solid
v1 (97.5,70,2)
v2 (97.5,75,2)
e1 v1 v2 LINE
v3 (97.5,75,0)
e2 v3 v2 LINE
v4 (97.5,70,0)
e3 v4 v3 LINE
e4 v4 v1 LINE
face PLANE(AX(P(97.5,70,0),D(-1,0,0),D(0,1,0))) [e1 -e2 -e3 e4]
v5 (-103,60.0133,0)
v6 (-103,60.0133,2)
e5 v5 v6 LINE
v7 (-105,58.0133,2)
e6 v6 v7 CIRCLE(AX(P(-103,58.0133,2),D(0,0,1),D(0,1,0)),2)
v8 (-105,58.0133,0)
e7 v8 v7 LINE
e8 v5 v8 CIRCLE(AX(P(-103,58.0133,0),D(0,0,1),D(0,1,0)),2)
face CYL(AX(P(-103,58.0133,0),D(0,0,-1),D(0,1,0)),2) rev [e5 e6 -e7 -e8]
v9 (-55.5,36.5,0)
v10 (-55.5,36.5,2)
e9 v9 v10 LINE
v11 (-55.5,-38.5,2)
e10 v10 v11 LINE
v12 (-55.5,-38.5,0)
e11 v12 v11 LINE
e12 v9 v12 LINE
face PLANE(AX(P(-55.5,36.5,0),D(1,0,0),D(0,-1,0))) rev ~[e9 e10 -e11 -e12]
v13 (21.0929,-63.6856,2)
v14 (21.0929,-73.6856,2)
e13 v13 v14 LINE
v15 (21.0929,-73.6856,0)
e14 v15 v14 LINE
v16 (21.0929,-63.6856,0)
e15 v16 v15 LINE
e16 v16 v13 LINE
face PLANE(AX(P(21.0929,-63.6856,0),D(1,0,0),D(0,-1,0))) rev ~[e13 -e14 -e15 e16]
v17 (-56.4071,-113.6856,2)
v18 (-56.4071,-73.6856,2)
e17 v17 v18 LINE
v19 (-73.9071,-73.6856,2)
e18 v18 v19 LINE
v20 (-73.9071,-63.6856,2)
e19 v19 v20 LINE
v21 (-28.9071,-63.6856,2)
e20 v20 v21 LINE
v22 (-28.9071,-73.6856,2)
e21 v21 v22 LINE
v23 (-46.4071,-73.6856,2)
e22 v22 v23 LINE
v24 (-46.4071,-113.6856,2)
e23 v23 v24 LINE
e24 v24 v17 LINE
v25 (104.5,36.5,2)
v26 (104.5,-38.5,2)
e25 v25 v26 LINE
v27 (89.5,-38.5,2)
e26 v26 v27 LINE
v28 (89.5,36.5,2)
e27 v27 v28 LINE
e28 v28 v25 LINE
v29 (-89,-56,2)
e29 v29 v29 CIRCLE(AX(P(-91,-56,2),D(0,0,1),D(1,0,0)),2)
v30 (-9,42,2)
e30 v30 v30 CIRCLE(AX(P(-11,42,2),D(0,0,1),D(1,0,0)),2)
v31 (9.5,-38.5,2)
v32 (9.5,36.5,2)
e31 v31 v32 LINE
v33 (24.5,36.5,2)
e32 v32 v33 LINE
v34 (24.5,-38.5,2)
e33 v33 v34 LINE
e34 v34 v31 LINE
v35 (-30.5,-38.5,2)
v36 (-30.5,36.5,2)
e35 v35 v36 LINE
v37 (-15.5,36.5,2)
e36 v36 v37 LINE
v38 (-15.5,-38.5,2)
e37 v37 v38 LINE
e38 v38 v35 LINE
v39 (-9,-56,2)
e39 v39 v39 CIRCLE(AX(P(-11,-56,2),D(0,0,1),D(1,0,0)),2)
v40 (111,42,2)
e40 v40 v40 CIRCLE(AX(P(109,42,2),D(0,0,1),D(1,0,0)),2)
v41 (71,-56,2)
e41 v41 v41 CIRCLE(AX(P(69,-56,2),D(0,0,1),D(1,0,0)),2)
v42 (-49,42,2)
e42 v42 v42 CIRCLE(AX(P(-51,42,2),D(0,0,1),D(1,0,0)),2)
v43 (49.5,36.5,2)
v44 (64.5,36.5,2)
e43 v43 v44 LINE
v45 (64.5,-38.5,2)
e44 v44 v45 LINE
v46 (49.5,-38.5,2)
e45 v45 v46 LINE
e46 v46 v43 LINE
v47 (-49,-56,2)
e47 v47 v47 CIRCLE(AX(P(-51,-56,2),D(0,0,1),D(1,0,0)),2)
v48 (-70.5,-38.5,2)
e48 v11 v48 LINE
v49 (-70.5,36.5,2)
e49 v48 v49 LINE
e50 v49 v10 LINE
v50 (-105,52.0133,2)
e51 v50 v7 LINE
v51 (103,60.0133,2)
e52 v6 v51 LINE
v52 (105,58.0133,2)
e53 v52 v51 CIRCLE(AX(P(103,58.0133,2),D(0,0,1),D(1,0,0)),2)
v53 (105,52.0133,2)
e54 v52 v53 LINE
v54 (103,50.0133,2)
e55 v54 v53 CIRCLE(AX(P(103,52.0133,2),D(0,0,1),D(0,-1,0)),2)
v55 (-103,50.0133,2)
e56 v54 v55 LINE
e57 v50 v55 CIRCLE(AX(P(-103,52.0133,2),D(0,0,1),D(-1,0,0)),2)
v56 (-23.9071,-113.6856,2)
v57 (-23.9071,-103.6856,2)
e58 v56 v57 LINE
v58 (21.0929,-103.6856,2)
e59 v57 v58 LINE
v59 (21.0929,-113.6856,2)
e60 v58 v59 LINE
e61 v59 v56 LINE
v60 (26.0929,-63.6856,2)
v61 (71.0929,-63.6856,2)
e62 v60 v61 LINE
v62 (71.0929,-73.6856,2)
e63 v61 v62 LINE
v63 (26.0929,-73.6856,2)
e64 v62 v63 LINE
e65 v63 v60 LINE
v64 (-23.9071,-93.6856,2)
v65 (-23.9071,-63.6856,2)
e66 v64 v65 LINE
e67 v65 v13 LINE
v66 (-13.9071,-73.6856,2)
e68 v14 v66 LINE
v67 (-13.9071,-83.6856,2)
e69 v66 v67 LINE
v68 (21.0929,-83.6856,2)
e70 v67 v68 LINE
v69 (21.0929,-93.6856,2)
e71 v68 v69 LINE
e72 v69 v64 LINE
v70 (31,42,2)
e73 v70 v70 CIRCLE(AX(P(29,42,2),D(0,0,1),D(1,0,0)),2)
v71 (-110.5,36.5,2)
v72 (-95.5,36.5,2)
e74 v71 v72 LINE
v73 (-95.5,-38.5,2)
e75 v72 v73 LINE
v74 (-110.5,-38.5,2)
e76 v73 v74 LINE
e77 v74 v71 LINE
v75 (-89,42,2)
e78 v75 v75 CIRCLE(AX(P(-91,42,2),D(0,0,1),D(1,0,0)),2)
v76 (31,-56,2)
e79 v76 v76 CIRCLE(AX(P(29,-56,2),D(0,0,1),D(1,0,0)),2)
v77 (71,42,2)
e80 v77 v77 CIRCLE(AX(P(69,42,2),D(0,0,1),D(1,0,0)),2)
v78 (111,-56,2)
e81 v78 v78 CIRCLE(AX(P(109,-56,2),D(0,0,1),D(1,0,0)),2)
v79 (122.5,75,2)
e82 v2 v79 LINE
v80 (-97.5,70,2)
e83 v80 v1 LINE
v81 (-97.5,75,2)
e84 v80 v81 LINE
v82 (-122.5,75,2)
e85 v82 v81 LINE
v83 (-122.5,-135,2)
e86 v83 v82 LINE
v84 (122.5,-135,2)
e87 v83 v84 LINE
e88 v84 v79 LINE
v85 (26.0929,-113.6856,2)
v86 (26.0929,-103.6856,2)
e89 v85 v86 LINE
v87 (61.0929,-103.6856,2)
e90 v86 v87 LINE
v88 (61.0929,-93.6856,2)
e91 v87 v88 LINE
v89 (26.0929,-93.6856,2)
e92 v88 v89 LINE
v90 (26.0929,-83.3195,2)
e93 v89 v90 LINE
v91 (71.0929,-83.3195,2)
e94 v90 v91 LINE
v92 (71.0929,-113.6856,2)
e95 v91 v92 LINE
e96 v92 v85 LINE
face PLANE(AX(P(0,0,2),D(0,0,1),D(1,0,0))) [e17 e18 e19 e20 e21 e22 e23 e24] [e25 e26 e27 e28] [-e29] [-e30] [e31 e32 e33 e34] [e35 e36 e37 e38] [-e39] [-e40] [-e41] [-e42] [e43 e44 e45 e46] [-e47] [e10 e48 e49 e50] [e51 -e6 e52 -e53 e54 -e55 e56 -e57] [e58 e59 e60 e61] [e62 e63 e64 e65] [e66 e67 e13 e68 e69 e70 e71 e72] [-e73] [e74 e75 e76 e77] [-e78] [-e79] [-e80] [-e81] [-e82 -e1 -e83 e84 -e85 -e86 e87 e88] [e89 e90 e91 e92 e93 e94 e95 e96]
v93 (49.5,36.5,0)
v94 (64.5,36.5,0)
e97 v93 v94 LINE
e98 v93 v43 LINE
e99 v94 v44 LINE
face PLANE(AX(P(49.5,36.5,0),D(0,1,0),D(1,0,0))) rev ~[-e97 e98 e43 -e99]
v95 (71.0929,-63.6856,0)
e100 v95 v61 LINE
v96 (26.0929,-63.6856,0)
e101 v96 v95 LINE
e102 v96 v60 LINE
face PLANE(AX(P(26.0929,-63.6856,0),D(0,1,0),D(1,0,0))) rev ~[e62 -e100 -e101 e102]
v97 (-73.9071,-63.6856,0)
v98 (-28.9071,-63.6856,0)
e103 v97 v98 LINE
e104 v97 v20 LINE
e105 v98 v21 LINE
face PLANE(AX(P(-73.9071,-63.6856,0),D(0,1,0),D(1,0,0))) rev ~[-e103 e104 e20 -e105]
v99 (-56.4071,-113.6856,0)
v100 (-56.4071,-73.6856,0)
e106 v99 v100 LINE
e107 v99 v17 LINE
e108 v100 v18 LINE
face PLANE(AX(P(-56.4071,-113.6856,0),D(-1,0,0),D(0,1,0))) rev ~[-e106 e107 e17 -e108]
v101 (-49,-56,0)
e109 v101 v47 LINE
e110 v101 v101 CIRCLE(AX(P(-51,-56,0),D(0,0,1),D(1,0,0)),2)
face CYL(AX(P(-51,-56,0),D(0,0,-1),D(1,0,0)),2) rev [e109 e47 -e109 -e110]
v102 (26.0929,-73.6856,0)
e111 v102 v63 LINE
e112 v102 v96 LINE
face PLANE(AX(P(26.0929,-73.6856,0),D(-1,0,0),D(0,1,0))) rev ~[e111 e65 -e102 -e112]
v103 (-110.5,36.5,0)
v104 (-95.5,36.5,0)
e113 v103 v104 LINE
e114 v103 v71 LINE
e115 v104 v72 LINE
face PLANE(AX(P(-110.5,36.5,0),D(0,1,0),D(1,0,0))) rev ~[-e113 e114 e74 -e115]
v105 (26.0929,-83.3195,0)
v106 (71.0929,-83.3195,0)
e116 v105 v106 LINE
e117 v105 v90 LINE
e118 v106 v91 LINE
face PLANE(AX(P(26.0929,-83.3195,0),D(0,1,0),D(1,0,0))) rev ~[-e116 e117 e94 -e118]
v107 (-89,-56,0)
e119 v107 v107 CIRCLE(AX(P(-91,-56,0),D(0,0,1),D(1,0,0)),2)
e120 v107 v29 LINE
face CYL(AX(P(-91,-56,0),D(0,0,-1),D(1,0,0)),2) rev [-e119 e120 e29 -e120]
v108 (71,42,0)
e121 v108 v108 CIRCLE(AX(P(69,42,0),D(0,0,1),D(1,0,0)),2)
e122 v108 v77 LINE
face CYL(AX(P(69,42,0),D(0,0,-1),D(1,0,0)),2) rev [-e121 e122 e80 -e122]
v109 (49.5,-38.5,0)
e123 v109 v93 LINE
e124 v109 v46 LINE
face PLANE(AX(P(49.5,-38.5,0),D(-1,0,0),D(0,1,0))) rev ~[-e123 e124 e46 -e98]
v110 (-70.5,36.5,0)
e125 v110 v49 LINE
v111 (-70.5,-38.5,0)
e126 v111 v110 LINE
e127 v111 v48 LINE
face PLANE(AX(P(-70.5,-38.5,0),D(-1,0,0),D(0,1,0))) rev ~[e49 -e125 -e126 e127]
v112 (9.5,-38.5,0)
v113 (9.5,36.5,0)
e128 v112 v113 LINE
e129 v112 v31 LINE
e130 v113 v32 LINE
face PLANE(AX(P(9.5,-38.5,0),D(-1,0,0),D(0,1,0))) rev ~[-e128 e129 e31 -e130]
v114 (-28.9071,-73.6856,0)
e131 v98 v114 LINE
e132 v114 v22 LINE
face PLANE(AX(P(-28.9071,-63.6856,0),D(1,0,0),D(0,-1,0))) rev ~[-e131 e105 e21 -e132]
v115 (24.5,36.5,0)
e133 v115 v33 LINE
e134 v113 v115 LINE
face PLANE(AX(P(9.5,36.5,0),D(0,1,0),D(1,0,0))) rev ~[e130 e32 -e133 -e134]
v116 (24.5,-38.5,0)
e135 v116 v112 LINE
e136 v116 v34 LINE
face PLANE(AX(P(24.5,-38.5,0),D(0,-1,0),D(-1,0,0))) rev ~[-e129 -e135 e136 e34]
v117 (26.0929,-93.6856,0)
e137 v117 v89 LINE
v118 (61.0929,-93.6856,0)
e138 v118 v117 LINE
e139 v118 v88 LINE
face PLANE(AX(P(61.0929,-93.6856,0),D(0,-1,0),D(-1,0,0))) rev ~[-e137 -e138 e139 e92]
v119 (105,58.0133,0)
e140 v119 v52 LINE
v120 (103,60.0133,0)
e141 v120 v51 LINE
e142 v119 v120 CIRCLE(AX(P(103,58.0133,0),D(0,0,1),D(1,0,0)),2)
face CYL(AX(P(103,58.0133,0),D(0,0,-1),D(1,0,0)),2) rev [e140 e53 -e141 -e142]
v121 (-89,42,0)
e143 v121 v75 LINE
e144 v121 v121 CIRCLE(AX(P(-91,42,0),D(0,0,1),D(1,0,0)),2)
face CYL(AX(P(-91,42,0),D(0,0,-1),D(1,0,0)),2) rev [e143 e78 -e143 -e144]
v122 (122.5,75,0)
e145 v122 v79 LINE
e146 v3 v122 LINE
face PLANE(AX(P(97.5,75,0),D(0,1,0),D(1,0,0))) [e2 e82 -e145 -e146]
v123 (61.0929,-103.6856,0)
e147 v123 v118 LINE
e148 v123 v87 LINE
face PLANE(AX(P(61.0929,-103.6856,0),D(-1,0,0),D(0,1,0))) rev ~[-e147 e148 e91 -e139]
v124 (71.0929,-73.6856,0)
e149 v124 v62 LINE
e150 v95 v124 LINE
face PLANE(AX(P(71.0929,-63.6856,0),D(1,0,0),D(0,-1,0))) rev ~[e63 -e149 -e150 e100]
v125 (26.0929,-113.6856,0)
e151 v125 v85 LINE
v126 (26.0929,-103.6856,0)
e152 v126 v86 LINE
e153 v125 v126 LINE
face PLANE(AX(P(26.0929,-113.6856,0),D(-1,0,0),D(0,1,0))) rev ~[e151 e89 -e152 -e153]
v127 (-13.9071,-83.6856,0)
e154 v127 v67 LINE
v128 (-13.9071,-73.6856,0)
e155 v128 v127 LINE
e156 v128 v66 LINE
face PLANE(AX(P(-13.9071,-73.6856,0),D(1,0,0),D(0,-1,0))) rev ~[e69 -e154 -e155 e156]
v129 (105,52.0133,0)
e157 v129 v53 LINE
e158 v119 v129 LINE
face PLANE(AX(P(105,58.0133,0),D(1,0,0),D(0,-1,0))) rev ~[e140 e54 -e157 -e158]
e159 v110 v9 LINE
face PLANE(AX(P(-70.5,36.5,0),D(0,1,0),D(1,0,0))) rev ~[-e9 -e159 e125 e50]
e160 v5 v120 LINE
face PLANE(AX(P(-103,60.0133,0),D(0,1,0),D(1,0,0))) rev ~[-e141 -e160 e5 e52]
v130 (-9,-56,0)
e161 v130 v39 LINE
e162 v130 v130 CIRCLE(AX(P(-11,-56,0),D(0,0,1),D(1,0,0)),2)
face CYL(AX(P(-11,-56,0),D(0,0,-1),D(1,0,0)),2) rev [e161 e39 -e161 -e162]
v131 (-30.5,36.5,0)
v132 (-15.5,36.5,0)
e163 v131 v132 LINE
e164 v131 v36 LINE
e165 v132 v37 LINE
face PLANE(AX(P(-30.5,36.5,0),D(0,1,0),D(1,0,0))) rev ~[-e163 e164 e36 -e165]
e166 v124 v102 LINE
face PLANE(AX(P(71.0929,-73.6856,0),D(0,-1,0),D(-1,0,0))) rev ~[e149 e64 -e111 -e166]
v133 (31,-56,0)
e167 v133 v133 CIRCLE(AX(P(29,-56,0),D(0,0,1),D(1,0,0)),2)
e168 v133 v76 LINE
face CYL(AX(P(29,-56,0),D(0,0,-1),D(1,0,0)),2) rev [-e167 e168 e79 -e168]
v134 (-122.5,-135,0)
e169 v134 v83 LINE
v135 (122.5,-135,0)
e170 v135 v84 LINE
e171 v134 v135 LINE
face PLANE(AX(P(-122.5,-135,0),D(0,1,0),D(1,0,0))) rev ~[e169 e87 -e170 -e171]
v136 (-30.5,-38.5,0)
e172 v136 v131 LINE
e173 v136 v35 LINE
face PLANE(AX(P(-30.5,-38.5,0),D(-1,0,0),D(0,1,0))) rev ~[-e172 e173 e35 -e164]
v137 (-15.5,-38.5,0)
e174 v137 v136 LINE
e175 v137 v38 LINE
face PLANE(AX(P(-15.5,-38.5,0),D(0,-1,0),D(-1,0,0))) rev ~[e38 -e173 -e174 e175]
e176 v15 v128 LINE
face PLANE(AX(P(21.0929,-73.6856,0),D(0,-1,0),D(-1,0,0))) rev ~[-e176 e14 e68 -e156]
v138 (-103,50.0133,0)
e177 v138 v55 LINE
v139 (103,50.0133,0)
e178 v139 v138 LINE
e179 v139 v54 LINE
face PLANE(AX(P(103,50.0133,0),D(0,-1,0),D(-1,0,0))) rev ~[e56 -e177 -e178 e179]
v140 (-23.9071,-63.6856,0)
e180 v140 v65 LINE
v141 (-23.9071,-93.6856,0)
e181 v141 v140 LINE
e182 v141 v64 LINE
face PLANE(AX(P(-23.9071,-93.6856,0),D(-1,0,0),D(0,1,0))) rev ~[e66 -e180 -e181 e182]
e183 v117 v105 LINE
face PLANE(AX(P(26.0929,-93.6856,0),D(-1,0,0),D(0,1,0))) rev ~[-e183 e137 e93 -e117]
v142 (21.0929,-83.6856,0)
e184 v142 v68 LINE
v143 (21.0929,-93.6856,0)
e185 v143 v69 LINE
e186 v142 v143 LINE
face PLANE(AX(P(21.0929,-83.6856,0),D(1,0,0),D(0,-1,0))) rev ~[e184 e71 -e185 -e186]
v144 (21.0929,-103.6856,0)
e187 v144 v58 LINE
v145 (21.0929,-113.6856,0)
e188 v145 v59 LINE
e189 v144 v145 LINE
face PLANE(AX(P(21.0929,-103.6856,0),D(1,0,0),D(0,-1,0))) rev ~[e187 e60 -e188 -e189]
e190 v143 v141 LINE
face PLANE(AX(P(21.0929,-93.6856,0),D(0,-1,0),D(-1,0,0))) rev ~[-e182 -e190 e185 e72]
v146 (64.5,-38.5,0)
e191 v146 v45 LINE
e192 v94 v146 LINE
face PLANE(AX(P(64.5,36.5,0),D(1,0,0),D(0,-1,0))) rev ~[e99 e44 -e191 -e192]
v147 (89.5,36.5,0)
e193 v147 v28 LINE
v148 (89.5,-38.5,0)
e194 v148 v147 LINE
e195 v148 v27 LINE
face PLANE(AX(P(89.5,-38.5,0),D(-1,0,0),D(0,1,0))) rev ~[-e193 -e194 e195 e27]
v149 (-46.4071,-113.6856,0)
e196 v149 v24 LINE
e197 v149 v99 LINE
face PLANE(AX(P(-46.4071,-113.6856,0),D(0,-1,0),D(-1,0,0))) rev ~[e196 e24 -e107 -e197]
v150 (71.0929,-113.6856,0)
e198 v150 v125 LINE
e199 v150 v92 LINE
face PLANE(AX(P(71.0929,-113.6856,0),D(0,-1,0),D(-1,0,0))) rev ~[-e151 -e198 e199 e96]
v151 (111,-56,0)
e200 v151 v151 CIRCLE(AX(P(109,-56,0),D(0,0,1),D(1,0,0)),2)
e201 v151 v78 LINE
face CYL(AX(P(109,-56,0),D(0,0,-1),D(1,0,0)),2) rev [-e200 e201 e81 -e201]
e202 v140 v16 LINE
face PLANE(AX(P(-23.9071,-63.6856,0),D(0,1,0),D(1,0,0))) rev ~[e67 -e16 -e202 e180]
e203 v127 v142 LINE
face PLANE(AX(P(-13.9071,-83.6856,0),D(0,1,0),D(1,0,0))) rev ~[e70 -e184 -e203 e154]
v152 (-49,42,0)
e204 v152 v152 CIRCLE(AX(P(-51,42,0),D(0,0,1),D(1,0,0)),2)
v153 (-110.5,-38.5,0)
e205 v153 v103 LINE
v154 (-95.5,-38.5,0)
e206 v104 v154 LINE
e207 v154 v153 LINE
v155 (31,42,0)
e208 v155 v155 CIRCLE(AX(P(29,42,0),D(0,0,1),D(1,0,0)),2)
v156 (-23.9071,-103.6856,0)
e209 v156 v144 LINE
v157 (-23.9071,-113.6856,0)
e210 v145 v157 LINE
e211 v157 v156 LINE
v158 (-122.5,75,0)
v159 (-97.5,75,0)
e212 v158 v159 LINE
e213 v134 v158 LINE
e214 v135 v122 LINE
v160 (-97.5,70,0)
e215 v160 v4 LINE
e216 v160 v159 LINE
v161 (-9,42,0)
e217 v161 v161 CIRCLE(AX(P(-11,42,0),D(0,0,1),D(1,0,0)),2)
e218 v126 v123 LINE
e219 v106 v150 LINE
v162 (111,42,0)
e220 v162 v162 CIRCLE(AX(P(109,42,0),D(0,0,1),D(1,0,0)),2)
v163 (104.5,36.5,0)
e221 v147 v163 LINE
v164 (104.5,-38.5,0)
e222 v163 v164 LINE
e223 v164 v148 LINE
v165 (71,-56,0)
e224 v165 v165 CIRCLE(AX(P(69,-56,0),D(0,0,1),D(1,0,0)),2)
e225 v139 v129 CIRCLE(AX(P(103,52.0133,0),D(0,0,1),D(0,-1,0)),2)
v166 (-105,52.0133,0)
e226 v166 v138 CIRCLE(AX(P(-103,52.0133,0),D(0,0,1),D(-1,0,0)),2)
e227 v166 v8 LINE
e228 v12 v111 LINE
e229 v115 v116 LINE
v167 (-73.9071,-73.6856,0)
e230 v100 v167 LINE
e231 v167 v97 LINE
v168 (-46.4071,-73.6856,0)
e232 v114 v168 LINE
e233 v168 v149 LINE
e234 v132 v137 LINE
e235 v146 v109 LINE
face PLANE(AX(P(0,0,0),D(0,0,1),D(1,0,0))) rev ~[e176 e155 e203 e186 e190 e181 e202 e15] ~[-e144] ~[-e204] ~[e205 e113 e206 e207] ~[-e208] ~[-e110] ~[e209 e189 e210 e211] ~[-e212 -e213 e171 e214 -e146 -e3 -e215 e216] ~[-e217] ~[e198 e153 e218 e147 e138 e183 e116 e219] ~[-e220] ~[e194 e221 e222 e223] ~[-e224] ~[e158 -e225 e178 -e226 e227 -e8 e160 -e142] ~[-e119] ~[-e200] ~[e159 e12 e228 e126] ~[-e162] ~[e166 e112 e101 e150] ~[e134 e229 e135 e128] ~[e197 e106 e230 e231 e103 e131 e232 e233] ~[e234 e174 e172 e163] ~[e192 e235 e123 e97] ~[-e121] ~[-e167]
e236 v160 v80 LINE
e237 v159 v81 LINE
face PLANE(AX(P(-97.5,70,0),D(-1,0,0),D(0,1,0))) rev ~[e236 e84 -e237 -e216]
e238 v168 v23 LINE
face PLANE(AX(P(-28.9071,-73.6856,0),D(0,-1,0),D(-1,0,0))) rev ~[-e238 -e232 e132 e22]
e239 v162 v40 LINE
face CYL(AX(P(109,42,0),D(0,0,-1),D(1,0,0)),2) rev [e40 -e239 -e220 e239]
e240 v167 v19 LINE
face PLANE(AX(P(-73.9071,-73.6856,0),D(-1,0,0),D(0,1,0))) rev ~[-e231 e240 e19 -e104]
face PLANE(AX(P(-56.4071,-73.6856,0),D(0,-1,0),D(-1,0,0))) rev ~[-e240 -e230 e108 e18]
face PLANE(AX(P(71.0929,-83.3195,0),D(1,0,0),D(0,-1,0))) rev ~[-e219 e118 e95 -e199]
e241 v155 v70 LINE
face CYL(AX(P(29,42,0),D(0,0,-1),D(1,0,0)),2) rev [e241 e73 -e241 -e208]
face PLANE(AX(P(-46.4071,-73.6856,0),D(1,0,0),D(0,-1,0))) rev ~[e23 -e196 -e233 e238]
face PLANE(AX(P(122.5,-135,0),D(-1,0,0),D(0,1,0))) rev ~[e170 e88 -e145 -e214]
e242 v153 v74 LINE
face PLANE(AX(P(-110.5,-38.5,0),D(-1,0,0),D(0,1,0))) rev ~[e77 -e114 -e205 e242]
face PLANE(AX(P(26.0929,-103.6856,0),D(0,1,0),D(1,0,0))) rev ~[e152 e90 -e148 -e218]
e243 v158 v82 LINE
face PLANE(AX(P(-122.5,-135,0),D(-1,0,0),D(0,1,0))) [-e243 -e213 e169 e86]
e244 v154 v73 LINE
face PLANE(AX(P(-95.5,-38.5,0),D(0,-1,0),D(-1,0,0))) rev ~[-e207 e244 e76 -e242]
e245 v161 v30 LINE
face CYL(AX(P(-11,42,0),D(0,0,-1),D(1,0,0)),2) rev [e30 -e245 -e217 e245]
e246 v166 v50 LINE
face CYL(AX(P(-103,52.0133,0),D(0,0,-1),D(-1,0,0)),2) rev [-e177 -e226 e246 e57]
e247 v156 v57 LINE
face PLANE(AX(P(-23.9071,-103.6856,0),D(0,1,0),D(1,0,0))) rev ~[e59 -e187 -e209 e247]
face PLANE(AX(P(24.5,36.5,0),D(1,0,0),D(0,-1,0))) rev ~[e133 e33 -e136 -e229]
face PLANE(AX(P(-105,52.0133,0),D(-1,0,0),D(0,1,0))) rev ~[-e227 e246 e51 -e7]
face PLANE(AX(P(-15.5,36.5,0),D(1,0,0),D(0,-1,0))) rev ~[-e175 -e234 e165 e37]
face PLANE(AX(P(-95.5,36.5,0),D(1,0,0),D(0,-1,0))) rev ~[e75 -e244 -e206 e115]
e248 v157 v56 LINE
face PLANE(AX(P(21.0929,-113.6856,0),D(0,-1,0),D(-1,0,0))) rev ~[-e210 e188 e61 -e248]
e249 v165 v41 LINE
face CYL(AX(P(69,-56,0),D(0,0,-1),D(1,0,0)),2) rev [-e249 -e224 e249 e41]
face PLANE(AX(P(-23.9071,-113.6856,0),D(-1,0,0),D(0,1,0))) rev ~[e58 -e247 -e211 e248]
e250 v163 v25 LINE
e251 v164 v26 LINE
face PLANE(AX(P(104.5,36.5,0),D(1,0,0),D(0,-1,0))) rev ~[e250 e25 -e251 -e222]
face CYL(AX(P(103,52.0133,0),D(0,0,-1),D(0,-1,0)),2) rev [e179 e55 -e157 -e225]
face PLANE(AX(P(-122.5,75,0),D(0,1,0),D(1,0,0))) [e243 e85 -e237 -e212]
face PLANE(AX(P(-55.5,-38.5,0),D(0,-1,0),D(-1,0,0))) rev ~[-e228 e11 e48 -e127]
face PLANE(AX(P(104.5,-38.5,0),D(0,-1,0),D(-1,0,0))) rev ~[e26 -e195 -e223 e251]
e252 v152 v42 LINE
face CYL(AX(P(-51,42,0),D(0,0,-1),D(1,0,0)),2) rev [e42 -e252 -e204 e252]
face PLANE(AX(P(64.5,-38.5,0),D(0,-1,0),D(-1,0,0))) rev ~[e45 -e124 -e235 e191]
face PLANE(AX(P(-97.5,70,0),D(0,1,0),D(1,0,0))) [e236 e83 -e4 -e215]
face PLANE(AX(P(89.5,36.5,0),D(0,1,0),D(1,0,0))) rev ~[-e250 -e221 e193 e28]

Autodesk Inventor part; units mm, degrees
ref_plane "YZ Plane" through (0, 0, 0) normal (1, 0, 0) x (0, 1, 0)
ref_plane "XZ Plane" through (0, 0, 0) normal (0, 1, 0) x (-1, 0, 0)
ref_plane "XY Plane" through (0, 0, 0) normal (0, 0, 1) x (1, 0, 0)
ref_plane "Work Plane1" through (0, 0, 0) normal (0, 0, 1) x (1, 0, 0)
sketch "Sketch1" plane through (0, 0, 0) normal (0, 0, 1) x (1, 0, 0)
  line L0 (21.0929, -113.6856) -> (-23.9071, -113.6856)
  line L1 (-23.9071, -113.6856) -> (-23.9071, -103.6856)
  line L2 (-23.9071, -103.6856) -> (21.0929, -103.6856)
  line L3 (21.0929, -103.6856) -> (21.0929, -113.6856)
  line L4 (26.0929, -103.6856) -> (61.0929, -103.6856)
  line L5 (61.0929, -103.6856) -> (61.0929, -93.6856)
  line L6 (61.0929, -93.6856) -> (26.0929, -93.6856)
  line L7 (26.0929, -93.6856) -> (26.0929, -83.3195)
  line L8 (26.0929, -83.3195) -> (71.0929, -83.3195)
  line L9 (71.0929, -83.3195) -> (71.0929, -113.6856)
  line L10 (71.0929, -113.6856) -> (26.0929, -113.6856)
  line L11 (26.0929, -113.6856) -> (26.0929, -103.6856)
  line L12 (-13.9071, -83.6856) -> (21.0929, -83.6856)
  line L13 (21.0929, -83.6856) -> (21.0929, -93.6856)
  line L14 (21.0929, -93.6856) -> (-23.9071, -93.6856)
  line L15 (-23.9071, -93.6856) -> (-23.9071, -63.6856)
  line L16 (-23.9071, -63.6856) -> (21.0929, -63.6856)
  line L17 (21.0929, -63.6856) -> (21.0929, -73.6856)
  line L18 (21.0929, -73.6856) -> (-13.9071, -73.6856)
  line L19 (-13.9071, -73.6856) -> (-13.9071, -83.6856)
  line L20 (26.0929, -63.6856) -> (71.0929, -63.6856)
  line L21 (71.0929, -63.6856) -> (71.0929, -73.6856)
  line L22 (71.0929, -73.6856) -> (26.0929, -73.6856)
  line L23 (26.0929, -73.6856) -> (26.0929, -63.6856)
  line L24 (-28.9071, -63.6856) -> (-28.9071, -73.6856)
  line L25 (-28.9071, -73.6856) -> (-46.4071, -73.6856)
  line L26 (-46.4071, -73.6856) -> (-46.4071, -113.6856)
  line L27 (-46.4071, -113.6856) -> (-56.4071, -113.6856)
  line L28 (-56.4071, -113.6856) -> (-56.4071, -73.6856)
  line L29 (-56.4071, -73.6856) -> (-73.9071, -73.6856)
  line L30 (-73.9071, -73.6856) -> (-73.9071, -63.6856)
  line L31 (-73.9071, -63.6856) -> (-28.9071, -63.6856)
  line L32 (-103, 60.0133) -> (103, 60.0133)
  arc A0 (105, 58.0133) -> (103, 60.0133) centre (103, 58.0133) ccw
  line L33 (105, 58.0133) -> (105, 52.0133)
  arc A1 (103, 50.0133) -> (105, 52.0133) centre (103, 52.0133) ccw
  line L34 (103, 50.0133) -> (-103, 50.0133)
  arc A2 (-105, 52.0133) -> (-103, 50.0133) centre (-103, 52.0133) ccw
  line L35 (-105, 52.0133) -> (-105, 58.0133)
  arc A3 (-103, 60.0133) -> (-105, 58.0133) centre (-103, 58.0133) ccw
  line L36 (24.5, -38.5) -> (9.5, -38.5)
  line L37 (9.5, -38.5) -> (9.5, 36.5)
  line L38 (9.5, 36.5) -> (24.5, 36.5)
  line L39 (24.5, 36.5) -> (24.5, -38.5)
  line L40 (-110.5, 36.5) -> (-95.5, 36.5)
  line L41 (-95.5, 36.5) -> (-95.5, -38.5)
  line L42 (-95.5, -38.5) -> (-110.5, -38.5)
  line L43 (-110.5, -38.5) -> (-110.5, 36.5)
  line L44 (49.5, -38.5) -> (49.5, 36.5)
  line L45 (49.5, 36.5) -> (64.5, 36.5)
  line L46 (64.5, 36.5) -> (64.5, -38.5)
  line L47 (64.5, -38.5) -> (49.5, -38.5)
  line L48 (-15.5, -38.5) -> (-30.5, -38.5)
  line L49 (-30.5, -38.5) -> (-30.5, 36.5)
  line L50 (-30.5, 36.5) -> (-15.5, 36.5)
  line L51 (-15.5, 36.5) -> (-15.5, -38.5)
  line L52 (-55.5, 36.5) -> (-55.5, -38.5)
  line L53 (-55.5, -38.5) -> (-70.5, -38.5)
  line L54 (-70.5, -38.5) -> (-70.5, 36.5)
  line L55 (-70.5, 36.5) -> (-55.5, 36.5)
  line L56 (104.5, 36.5) -> (104.5, -38.5)
  line L57 (104.5, -38.5) -> (89.5, -38.5)
  line L58 (89.5, -38.5) -> (89.5, 36.5)
  line L59 (89.5, 36.5) -> (104.5, 36.5)
  circle A4 centre (29, 42) radius 2
  circle A5 centre (109, -56) radius 2
  circle A6 centre (-51, -56) radius 2
  circle A7 centre (-11, -56) radius 2
  circle A8 centre (-91, 42) radius 2
  circle A9 centre (69, 42) radius 2
  circle A10 centre (-11, 42) radius 2
  circle A11 centre (69, -56) radius 2
  circle A12 centre (-91, -56) radius 2
  circle A13 centre (29, -56) radius 2
  circle A14 centre (-51, 42) radius 2
  circle A15 centre (109, 42) radius 2
  line L60 (122.5, -135) -> (122.5, 75)
  line L61 (97.5, 75) -> (122.5, 75)
  line L62 (97.5, 70) -> (97.5, 75)
  line L63 (-97.5, 70) -> (97.5, 70)
  line L64 (-97.5, 70) -> (-97.5, 75)
  line L65 (-122.5, 75) -> (-97.5, 75)
  line L66 (-122.5, -135) -> (-122.5, 75)
  line L67 (-122.5, -135) -> (122.5, -135)
  point P0 (0, 0)
extrude "Plate1" add sketch "Sketch1" along normal blind 2
equation "\"d0\" = Thickness"
equation "\"BendRadius\" = Thickness"
equation "\"BendReliefWidth\" = Thickness"
equation "\"BendReliefDepth\" = 0.5 * Thickness"
equation "\"CornerReliefSize\" = 4 * Thickness"
equation "\"MinimumRemnant\" = 2 * Thickness"
equation "\"TransitionRadius\" = BendRadius"
equation "\"JacobiRadiusSize\" = BendRadius"
equation "\"GapSize\" = Thickness"
equation "\"Thickness\" = 2"
